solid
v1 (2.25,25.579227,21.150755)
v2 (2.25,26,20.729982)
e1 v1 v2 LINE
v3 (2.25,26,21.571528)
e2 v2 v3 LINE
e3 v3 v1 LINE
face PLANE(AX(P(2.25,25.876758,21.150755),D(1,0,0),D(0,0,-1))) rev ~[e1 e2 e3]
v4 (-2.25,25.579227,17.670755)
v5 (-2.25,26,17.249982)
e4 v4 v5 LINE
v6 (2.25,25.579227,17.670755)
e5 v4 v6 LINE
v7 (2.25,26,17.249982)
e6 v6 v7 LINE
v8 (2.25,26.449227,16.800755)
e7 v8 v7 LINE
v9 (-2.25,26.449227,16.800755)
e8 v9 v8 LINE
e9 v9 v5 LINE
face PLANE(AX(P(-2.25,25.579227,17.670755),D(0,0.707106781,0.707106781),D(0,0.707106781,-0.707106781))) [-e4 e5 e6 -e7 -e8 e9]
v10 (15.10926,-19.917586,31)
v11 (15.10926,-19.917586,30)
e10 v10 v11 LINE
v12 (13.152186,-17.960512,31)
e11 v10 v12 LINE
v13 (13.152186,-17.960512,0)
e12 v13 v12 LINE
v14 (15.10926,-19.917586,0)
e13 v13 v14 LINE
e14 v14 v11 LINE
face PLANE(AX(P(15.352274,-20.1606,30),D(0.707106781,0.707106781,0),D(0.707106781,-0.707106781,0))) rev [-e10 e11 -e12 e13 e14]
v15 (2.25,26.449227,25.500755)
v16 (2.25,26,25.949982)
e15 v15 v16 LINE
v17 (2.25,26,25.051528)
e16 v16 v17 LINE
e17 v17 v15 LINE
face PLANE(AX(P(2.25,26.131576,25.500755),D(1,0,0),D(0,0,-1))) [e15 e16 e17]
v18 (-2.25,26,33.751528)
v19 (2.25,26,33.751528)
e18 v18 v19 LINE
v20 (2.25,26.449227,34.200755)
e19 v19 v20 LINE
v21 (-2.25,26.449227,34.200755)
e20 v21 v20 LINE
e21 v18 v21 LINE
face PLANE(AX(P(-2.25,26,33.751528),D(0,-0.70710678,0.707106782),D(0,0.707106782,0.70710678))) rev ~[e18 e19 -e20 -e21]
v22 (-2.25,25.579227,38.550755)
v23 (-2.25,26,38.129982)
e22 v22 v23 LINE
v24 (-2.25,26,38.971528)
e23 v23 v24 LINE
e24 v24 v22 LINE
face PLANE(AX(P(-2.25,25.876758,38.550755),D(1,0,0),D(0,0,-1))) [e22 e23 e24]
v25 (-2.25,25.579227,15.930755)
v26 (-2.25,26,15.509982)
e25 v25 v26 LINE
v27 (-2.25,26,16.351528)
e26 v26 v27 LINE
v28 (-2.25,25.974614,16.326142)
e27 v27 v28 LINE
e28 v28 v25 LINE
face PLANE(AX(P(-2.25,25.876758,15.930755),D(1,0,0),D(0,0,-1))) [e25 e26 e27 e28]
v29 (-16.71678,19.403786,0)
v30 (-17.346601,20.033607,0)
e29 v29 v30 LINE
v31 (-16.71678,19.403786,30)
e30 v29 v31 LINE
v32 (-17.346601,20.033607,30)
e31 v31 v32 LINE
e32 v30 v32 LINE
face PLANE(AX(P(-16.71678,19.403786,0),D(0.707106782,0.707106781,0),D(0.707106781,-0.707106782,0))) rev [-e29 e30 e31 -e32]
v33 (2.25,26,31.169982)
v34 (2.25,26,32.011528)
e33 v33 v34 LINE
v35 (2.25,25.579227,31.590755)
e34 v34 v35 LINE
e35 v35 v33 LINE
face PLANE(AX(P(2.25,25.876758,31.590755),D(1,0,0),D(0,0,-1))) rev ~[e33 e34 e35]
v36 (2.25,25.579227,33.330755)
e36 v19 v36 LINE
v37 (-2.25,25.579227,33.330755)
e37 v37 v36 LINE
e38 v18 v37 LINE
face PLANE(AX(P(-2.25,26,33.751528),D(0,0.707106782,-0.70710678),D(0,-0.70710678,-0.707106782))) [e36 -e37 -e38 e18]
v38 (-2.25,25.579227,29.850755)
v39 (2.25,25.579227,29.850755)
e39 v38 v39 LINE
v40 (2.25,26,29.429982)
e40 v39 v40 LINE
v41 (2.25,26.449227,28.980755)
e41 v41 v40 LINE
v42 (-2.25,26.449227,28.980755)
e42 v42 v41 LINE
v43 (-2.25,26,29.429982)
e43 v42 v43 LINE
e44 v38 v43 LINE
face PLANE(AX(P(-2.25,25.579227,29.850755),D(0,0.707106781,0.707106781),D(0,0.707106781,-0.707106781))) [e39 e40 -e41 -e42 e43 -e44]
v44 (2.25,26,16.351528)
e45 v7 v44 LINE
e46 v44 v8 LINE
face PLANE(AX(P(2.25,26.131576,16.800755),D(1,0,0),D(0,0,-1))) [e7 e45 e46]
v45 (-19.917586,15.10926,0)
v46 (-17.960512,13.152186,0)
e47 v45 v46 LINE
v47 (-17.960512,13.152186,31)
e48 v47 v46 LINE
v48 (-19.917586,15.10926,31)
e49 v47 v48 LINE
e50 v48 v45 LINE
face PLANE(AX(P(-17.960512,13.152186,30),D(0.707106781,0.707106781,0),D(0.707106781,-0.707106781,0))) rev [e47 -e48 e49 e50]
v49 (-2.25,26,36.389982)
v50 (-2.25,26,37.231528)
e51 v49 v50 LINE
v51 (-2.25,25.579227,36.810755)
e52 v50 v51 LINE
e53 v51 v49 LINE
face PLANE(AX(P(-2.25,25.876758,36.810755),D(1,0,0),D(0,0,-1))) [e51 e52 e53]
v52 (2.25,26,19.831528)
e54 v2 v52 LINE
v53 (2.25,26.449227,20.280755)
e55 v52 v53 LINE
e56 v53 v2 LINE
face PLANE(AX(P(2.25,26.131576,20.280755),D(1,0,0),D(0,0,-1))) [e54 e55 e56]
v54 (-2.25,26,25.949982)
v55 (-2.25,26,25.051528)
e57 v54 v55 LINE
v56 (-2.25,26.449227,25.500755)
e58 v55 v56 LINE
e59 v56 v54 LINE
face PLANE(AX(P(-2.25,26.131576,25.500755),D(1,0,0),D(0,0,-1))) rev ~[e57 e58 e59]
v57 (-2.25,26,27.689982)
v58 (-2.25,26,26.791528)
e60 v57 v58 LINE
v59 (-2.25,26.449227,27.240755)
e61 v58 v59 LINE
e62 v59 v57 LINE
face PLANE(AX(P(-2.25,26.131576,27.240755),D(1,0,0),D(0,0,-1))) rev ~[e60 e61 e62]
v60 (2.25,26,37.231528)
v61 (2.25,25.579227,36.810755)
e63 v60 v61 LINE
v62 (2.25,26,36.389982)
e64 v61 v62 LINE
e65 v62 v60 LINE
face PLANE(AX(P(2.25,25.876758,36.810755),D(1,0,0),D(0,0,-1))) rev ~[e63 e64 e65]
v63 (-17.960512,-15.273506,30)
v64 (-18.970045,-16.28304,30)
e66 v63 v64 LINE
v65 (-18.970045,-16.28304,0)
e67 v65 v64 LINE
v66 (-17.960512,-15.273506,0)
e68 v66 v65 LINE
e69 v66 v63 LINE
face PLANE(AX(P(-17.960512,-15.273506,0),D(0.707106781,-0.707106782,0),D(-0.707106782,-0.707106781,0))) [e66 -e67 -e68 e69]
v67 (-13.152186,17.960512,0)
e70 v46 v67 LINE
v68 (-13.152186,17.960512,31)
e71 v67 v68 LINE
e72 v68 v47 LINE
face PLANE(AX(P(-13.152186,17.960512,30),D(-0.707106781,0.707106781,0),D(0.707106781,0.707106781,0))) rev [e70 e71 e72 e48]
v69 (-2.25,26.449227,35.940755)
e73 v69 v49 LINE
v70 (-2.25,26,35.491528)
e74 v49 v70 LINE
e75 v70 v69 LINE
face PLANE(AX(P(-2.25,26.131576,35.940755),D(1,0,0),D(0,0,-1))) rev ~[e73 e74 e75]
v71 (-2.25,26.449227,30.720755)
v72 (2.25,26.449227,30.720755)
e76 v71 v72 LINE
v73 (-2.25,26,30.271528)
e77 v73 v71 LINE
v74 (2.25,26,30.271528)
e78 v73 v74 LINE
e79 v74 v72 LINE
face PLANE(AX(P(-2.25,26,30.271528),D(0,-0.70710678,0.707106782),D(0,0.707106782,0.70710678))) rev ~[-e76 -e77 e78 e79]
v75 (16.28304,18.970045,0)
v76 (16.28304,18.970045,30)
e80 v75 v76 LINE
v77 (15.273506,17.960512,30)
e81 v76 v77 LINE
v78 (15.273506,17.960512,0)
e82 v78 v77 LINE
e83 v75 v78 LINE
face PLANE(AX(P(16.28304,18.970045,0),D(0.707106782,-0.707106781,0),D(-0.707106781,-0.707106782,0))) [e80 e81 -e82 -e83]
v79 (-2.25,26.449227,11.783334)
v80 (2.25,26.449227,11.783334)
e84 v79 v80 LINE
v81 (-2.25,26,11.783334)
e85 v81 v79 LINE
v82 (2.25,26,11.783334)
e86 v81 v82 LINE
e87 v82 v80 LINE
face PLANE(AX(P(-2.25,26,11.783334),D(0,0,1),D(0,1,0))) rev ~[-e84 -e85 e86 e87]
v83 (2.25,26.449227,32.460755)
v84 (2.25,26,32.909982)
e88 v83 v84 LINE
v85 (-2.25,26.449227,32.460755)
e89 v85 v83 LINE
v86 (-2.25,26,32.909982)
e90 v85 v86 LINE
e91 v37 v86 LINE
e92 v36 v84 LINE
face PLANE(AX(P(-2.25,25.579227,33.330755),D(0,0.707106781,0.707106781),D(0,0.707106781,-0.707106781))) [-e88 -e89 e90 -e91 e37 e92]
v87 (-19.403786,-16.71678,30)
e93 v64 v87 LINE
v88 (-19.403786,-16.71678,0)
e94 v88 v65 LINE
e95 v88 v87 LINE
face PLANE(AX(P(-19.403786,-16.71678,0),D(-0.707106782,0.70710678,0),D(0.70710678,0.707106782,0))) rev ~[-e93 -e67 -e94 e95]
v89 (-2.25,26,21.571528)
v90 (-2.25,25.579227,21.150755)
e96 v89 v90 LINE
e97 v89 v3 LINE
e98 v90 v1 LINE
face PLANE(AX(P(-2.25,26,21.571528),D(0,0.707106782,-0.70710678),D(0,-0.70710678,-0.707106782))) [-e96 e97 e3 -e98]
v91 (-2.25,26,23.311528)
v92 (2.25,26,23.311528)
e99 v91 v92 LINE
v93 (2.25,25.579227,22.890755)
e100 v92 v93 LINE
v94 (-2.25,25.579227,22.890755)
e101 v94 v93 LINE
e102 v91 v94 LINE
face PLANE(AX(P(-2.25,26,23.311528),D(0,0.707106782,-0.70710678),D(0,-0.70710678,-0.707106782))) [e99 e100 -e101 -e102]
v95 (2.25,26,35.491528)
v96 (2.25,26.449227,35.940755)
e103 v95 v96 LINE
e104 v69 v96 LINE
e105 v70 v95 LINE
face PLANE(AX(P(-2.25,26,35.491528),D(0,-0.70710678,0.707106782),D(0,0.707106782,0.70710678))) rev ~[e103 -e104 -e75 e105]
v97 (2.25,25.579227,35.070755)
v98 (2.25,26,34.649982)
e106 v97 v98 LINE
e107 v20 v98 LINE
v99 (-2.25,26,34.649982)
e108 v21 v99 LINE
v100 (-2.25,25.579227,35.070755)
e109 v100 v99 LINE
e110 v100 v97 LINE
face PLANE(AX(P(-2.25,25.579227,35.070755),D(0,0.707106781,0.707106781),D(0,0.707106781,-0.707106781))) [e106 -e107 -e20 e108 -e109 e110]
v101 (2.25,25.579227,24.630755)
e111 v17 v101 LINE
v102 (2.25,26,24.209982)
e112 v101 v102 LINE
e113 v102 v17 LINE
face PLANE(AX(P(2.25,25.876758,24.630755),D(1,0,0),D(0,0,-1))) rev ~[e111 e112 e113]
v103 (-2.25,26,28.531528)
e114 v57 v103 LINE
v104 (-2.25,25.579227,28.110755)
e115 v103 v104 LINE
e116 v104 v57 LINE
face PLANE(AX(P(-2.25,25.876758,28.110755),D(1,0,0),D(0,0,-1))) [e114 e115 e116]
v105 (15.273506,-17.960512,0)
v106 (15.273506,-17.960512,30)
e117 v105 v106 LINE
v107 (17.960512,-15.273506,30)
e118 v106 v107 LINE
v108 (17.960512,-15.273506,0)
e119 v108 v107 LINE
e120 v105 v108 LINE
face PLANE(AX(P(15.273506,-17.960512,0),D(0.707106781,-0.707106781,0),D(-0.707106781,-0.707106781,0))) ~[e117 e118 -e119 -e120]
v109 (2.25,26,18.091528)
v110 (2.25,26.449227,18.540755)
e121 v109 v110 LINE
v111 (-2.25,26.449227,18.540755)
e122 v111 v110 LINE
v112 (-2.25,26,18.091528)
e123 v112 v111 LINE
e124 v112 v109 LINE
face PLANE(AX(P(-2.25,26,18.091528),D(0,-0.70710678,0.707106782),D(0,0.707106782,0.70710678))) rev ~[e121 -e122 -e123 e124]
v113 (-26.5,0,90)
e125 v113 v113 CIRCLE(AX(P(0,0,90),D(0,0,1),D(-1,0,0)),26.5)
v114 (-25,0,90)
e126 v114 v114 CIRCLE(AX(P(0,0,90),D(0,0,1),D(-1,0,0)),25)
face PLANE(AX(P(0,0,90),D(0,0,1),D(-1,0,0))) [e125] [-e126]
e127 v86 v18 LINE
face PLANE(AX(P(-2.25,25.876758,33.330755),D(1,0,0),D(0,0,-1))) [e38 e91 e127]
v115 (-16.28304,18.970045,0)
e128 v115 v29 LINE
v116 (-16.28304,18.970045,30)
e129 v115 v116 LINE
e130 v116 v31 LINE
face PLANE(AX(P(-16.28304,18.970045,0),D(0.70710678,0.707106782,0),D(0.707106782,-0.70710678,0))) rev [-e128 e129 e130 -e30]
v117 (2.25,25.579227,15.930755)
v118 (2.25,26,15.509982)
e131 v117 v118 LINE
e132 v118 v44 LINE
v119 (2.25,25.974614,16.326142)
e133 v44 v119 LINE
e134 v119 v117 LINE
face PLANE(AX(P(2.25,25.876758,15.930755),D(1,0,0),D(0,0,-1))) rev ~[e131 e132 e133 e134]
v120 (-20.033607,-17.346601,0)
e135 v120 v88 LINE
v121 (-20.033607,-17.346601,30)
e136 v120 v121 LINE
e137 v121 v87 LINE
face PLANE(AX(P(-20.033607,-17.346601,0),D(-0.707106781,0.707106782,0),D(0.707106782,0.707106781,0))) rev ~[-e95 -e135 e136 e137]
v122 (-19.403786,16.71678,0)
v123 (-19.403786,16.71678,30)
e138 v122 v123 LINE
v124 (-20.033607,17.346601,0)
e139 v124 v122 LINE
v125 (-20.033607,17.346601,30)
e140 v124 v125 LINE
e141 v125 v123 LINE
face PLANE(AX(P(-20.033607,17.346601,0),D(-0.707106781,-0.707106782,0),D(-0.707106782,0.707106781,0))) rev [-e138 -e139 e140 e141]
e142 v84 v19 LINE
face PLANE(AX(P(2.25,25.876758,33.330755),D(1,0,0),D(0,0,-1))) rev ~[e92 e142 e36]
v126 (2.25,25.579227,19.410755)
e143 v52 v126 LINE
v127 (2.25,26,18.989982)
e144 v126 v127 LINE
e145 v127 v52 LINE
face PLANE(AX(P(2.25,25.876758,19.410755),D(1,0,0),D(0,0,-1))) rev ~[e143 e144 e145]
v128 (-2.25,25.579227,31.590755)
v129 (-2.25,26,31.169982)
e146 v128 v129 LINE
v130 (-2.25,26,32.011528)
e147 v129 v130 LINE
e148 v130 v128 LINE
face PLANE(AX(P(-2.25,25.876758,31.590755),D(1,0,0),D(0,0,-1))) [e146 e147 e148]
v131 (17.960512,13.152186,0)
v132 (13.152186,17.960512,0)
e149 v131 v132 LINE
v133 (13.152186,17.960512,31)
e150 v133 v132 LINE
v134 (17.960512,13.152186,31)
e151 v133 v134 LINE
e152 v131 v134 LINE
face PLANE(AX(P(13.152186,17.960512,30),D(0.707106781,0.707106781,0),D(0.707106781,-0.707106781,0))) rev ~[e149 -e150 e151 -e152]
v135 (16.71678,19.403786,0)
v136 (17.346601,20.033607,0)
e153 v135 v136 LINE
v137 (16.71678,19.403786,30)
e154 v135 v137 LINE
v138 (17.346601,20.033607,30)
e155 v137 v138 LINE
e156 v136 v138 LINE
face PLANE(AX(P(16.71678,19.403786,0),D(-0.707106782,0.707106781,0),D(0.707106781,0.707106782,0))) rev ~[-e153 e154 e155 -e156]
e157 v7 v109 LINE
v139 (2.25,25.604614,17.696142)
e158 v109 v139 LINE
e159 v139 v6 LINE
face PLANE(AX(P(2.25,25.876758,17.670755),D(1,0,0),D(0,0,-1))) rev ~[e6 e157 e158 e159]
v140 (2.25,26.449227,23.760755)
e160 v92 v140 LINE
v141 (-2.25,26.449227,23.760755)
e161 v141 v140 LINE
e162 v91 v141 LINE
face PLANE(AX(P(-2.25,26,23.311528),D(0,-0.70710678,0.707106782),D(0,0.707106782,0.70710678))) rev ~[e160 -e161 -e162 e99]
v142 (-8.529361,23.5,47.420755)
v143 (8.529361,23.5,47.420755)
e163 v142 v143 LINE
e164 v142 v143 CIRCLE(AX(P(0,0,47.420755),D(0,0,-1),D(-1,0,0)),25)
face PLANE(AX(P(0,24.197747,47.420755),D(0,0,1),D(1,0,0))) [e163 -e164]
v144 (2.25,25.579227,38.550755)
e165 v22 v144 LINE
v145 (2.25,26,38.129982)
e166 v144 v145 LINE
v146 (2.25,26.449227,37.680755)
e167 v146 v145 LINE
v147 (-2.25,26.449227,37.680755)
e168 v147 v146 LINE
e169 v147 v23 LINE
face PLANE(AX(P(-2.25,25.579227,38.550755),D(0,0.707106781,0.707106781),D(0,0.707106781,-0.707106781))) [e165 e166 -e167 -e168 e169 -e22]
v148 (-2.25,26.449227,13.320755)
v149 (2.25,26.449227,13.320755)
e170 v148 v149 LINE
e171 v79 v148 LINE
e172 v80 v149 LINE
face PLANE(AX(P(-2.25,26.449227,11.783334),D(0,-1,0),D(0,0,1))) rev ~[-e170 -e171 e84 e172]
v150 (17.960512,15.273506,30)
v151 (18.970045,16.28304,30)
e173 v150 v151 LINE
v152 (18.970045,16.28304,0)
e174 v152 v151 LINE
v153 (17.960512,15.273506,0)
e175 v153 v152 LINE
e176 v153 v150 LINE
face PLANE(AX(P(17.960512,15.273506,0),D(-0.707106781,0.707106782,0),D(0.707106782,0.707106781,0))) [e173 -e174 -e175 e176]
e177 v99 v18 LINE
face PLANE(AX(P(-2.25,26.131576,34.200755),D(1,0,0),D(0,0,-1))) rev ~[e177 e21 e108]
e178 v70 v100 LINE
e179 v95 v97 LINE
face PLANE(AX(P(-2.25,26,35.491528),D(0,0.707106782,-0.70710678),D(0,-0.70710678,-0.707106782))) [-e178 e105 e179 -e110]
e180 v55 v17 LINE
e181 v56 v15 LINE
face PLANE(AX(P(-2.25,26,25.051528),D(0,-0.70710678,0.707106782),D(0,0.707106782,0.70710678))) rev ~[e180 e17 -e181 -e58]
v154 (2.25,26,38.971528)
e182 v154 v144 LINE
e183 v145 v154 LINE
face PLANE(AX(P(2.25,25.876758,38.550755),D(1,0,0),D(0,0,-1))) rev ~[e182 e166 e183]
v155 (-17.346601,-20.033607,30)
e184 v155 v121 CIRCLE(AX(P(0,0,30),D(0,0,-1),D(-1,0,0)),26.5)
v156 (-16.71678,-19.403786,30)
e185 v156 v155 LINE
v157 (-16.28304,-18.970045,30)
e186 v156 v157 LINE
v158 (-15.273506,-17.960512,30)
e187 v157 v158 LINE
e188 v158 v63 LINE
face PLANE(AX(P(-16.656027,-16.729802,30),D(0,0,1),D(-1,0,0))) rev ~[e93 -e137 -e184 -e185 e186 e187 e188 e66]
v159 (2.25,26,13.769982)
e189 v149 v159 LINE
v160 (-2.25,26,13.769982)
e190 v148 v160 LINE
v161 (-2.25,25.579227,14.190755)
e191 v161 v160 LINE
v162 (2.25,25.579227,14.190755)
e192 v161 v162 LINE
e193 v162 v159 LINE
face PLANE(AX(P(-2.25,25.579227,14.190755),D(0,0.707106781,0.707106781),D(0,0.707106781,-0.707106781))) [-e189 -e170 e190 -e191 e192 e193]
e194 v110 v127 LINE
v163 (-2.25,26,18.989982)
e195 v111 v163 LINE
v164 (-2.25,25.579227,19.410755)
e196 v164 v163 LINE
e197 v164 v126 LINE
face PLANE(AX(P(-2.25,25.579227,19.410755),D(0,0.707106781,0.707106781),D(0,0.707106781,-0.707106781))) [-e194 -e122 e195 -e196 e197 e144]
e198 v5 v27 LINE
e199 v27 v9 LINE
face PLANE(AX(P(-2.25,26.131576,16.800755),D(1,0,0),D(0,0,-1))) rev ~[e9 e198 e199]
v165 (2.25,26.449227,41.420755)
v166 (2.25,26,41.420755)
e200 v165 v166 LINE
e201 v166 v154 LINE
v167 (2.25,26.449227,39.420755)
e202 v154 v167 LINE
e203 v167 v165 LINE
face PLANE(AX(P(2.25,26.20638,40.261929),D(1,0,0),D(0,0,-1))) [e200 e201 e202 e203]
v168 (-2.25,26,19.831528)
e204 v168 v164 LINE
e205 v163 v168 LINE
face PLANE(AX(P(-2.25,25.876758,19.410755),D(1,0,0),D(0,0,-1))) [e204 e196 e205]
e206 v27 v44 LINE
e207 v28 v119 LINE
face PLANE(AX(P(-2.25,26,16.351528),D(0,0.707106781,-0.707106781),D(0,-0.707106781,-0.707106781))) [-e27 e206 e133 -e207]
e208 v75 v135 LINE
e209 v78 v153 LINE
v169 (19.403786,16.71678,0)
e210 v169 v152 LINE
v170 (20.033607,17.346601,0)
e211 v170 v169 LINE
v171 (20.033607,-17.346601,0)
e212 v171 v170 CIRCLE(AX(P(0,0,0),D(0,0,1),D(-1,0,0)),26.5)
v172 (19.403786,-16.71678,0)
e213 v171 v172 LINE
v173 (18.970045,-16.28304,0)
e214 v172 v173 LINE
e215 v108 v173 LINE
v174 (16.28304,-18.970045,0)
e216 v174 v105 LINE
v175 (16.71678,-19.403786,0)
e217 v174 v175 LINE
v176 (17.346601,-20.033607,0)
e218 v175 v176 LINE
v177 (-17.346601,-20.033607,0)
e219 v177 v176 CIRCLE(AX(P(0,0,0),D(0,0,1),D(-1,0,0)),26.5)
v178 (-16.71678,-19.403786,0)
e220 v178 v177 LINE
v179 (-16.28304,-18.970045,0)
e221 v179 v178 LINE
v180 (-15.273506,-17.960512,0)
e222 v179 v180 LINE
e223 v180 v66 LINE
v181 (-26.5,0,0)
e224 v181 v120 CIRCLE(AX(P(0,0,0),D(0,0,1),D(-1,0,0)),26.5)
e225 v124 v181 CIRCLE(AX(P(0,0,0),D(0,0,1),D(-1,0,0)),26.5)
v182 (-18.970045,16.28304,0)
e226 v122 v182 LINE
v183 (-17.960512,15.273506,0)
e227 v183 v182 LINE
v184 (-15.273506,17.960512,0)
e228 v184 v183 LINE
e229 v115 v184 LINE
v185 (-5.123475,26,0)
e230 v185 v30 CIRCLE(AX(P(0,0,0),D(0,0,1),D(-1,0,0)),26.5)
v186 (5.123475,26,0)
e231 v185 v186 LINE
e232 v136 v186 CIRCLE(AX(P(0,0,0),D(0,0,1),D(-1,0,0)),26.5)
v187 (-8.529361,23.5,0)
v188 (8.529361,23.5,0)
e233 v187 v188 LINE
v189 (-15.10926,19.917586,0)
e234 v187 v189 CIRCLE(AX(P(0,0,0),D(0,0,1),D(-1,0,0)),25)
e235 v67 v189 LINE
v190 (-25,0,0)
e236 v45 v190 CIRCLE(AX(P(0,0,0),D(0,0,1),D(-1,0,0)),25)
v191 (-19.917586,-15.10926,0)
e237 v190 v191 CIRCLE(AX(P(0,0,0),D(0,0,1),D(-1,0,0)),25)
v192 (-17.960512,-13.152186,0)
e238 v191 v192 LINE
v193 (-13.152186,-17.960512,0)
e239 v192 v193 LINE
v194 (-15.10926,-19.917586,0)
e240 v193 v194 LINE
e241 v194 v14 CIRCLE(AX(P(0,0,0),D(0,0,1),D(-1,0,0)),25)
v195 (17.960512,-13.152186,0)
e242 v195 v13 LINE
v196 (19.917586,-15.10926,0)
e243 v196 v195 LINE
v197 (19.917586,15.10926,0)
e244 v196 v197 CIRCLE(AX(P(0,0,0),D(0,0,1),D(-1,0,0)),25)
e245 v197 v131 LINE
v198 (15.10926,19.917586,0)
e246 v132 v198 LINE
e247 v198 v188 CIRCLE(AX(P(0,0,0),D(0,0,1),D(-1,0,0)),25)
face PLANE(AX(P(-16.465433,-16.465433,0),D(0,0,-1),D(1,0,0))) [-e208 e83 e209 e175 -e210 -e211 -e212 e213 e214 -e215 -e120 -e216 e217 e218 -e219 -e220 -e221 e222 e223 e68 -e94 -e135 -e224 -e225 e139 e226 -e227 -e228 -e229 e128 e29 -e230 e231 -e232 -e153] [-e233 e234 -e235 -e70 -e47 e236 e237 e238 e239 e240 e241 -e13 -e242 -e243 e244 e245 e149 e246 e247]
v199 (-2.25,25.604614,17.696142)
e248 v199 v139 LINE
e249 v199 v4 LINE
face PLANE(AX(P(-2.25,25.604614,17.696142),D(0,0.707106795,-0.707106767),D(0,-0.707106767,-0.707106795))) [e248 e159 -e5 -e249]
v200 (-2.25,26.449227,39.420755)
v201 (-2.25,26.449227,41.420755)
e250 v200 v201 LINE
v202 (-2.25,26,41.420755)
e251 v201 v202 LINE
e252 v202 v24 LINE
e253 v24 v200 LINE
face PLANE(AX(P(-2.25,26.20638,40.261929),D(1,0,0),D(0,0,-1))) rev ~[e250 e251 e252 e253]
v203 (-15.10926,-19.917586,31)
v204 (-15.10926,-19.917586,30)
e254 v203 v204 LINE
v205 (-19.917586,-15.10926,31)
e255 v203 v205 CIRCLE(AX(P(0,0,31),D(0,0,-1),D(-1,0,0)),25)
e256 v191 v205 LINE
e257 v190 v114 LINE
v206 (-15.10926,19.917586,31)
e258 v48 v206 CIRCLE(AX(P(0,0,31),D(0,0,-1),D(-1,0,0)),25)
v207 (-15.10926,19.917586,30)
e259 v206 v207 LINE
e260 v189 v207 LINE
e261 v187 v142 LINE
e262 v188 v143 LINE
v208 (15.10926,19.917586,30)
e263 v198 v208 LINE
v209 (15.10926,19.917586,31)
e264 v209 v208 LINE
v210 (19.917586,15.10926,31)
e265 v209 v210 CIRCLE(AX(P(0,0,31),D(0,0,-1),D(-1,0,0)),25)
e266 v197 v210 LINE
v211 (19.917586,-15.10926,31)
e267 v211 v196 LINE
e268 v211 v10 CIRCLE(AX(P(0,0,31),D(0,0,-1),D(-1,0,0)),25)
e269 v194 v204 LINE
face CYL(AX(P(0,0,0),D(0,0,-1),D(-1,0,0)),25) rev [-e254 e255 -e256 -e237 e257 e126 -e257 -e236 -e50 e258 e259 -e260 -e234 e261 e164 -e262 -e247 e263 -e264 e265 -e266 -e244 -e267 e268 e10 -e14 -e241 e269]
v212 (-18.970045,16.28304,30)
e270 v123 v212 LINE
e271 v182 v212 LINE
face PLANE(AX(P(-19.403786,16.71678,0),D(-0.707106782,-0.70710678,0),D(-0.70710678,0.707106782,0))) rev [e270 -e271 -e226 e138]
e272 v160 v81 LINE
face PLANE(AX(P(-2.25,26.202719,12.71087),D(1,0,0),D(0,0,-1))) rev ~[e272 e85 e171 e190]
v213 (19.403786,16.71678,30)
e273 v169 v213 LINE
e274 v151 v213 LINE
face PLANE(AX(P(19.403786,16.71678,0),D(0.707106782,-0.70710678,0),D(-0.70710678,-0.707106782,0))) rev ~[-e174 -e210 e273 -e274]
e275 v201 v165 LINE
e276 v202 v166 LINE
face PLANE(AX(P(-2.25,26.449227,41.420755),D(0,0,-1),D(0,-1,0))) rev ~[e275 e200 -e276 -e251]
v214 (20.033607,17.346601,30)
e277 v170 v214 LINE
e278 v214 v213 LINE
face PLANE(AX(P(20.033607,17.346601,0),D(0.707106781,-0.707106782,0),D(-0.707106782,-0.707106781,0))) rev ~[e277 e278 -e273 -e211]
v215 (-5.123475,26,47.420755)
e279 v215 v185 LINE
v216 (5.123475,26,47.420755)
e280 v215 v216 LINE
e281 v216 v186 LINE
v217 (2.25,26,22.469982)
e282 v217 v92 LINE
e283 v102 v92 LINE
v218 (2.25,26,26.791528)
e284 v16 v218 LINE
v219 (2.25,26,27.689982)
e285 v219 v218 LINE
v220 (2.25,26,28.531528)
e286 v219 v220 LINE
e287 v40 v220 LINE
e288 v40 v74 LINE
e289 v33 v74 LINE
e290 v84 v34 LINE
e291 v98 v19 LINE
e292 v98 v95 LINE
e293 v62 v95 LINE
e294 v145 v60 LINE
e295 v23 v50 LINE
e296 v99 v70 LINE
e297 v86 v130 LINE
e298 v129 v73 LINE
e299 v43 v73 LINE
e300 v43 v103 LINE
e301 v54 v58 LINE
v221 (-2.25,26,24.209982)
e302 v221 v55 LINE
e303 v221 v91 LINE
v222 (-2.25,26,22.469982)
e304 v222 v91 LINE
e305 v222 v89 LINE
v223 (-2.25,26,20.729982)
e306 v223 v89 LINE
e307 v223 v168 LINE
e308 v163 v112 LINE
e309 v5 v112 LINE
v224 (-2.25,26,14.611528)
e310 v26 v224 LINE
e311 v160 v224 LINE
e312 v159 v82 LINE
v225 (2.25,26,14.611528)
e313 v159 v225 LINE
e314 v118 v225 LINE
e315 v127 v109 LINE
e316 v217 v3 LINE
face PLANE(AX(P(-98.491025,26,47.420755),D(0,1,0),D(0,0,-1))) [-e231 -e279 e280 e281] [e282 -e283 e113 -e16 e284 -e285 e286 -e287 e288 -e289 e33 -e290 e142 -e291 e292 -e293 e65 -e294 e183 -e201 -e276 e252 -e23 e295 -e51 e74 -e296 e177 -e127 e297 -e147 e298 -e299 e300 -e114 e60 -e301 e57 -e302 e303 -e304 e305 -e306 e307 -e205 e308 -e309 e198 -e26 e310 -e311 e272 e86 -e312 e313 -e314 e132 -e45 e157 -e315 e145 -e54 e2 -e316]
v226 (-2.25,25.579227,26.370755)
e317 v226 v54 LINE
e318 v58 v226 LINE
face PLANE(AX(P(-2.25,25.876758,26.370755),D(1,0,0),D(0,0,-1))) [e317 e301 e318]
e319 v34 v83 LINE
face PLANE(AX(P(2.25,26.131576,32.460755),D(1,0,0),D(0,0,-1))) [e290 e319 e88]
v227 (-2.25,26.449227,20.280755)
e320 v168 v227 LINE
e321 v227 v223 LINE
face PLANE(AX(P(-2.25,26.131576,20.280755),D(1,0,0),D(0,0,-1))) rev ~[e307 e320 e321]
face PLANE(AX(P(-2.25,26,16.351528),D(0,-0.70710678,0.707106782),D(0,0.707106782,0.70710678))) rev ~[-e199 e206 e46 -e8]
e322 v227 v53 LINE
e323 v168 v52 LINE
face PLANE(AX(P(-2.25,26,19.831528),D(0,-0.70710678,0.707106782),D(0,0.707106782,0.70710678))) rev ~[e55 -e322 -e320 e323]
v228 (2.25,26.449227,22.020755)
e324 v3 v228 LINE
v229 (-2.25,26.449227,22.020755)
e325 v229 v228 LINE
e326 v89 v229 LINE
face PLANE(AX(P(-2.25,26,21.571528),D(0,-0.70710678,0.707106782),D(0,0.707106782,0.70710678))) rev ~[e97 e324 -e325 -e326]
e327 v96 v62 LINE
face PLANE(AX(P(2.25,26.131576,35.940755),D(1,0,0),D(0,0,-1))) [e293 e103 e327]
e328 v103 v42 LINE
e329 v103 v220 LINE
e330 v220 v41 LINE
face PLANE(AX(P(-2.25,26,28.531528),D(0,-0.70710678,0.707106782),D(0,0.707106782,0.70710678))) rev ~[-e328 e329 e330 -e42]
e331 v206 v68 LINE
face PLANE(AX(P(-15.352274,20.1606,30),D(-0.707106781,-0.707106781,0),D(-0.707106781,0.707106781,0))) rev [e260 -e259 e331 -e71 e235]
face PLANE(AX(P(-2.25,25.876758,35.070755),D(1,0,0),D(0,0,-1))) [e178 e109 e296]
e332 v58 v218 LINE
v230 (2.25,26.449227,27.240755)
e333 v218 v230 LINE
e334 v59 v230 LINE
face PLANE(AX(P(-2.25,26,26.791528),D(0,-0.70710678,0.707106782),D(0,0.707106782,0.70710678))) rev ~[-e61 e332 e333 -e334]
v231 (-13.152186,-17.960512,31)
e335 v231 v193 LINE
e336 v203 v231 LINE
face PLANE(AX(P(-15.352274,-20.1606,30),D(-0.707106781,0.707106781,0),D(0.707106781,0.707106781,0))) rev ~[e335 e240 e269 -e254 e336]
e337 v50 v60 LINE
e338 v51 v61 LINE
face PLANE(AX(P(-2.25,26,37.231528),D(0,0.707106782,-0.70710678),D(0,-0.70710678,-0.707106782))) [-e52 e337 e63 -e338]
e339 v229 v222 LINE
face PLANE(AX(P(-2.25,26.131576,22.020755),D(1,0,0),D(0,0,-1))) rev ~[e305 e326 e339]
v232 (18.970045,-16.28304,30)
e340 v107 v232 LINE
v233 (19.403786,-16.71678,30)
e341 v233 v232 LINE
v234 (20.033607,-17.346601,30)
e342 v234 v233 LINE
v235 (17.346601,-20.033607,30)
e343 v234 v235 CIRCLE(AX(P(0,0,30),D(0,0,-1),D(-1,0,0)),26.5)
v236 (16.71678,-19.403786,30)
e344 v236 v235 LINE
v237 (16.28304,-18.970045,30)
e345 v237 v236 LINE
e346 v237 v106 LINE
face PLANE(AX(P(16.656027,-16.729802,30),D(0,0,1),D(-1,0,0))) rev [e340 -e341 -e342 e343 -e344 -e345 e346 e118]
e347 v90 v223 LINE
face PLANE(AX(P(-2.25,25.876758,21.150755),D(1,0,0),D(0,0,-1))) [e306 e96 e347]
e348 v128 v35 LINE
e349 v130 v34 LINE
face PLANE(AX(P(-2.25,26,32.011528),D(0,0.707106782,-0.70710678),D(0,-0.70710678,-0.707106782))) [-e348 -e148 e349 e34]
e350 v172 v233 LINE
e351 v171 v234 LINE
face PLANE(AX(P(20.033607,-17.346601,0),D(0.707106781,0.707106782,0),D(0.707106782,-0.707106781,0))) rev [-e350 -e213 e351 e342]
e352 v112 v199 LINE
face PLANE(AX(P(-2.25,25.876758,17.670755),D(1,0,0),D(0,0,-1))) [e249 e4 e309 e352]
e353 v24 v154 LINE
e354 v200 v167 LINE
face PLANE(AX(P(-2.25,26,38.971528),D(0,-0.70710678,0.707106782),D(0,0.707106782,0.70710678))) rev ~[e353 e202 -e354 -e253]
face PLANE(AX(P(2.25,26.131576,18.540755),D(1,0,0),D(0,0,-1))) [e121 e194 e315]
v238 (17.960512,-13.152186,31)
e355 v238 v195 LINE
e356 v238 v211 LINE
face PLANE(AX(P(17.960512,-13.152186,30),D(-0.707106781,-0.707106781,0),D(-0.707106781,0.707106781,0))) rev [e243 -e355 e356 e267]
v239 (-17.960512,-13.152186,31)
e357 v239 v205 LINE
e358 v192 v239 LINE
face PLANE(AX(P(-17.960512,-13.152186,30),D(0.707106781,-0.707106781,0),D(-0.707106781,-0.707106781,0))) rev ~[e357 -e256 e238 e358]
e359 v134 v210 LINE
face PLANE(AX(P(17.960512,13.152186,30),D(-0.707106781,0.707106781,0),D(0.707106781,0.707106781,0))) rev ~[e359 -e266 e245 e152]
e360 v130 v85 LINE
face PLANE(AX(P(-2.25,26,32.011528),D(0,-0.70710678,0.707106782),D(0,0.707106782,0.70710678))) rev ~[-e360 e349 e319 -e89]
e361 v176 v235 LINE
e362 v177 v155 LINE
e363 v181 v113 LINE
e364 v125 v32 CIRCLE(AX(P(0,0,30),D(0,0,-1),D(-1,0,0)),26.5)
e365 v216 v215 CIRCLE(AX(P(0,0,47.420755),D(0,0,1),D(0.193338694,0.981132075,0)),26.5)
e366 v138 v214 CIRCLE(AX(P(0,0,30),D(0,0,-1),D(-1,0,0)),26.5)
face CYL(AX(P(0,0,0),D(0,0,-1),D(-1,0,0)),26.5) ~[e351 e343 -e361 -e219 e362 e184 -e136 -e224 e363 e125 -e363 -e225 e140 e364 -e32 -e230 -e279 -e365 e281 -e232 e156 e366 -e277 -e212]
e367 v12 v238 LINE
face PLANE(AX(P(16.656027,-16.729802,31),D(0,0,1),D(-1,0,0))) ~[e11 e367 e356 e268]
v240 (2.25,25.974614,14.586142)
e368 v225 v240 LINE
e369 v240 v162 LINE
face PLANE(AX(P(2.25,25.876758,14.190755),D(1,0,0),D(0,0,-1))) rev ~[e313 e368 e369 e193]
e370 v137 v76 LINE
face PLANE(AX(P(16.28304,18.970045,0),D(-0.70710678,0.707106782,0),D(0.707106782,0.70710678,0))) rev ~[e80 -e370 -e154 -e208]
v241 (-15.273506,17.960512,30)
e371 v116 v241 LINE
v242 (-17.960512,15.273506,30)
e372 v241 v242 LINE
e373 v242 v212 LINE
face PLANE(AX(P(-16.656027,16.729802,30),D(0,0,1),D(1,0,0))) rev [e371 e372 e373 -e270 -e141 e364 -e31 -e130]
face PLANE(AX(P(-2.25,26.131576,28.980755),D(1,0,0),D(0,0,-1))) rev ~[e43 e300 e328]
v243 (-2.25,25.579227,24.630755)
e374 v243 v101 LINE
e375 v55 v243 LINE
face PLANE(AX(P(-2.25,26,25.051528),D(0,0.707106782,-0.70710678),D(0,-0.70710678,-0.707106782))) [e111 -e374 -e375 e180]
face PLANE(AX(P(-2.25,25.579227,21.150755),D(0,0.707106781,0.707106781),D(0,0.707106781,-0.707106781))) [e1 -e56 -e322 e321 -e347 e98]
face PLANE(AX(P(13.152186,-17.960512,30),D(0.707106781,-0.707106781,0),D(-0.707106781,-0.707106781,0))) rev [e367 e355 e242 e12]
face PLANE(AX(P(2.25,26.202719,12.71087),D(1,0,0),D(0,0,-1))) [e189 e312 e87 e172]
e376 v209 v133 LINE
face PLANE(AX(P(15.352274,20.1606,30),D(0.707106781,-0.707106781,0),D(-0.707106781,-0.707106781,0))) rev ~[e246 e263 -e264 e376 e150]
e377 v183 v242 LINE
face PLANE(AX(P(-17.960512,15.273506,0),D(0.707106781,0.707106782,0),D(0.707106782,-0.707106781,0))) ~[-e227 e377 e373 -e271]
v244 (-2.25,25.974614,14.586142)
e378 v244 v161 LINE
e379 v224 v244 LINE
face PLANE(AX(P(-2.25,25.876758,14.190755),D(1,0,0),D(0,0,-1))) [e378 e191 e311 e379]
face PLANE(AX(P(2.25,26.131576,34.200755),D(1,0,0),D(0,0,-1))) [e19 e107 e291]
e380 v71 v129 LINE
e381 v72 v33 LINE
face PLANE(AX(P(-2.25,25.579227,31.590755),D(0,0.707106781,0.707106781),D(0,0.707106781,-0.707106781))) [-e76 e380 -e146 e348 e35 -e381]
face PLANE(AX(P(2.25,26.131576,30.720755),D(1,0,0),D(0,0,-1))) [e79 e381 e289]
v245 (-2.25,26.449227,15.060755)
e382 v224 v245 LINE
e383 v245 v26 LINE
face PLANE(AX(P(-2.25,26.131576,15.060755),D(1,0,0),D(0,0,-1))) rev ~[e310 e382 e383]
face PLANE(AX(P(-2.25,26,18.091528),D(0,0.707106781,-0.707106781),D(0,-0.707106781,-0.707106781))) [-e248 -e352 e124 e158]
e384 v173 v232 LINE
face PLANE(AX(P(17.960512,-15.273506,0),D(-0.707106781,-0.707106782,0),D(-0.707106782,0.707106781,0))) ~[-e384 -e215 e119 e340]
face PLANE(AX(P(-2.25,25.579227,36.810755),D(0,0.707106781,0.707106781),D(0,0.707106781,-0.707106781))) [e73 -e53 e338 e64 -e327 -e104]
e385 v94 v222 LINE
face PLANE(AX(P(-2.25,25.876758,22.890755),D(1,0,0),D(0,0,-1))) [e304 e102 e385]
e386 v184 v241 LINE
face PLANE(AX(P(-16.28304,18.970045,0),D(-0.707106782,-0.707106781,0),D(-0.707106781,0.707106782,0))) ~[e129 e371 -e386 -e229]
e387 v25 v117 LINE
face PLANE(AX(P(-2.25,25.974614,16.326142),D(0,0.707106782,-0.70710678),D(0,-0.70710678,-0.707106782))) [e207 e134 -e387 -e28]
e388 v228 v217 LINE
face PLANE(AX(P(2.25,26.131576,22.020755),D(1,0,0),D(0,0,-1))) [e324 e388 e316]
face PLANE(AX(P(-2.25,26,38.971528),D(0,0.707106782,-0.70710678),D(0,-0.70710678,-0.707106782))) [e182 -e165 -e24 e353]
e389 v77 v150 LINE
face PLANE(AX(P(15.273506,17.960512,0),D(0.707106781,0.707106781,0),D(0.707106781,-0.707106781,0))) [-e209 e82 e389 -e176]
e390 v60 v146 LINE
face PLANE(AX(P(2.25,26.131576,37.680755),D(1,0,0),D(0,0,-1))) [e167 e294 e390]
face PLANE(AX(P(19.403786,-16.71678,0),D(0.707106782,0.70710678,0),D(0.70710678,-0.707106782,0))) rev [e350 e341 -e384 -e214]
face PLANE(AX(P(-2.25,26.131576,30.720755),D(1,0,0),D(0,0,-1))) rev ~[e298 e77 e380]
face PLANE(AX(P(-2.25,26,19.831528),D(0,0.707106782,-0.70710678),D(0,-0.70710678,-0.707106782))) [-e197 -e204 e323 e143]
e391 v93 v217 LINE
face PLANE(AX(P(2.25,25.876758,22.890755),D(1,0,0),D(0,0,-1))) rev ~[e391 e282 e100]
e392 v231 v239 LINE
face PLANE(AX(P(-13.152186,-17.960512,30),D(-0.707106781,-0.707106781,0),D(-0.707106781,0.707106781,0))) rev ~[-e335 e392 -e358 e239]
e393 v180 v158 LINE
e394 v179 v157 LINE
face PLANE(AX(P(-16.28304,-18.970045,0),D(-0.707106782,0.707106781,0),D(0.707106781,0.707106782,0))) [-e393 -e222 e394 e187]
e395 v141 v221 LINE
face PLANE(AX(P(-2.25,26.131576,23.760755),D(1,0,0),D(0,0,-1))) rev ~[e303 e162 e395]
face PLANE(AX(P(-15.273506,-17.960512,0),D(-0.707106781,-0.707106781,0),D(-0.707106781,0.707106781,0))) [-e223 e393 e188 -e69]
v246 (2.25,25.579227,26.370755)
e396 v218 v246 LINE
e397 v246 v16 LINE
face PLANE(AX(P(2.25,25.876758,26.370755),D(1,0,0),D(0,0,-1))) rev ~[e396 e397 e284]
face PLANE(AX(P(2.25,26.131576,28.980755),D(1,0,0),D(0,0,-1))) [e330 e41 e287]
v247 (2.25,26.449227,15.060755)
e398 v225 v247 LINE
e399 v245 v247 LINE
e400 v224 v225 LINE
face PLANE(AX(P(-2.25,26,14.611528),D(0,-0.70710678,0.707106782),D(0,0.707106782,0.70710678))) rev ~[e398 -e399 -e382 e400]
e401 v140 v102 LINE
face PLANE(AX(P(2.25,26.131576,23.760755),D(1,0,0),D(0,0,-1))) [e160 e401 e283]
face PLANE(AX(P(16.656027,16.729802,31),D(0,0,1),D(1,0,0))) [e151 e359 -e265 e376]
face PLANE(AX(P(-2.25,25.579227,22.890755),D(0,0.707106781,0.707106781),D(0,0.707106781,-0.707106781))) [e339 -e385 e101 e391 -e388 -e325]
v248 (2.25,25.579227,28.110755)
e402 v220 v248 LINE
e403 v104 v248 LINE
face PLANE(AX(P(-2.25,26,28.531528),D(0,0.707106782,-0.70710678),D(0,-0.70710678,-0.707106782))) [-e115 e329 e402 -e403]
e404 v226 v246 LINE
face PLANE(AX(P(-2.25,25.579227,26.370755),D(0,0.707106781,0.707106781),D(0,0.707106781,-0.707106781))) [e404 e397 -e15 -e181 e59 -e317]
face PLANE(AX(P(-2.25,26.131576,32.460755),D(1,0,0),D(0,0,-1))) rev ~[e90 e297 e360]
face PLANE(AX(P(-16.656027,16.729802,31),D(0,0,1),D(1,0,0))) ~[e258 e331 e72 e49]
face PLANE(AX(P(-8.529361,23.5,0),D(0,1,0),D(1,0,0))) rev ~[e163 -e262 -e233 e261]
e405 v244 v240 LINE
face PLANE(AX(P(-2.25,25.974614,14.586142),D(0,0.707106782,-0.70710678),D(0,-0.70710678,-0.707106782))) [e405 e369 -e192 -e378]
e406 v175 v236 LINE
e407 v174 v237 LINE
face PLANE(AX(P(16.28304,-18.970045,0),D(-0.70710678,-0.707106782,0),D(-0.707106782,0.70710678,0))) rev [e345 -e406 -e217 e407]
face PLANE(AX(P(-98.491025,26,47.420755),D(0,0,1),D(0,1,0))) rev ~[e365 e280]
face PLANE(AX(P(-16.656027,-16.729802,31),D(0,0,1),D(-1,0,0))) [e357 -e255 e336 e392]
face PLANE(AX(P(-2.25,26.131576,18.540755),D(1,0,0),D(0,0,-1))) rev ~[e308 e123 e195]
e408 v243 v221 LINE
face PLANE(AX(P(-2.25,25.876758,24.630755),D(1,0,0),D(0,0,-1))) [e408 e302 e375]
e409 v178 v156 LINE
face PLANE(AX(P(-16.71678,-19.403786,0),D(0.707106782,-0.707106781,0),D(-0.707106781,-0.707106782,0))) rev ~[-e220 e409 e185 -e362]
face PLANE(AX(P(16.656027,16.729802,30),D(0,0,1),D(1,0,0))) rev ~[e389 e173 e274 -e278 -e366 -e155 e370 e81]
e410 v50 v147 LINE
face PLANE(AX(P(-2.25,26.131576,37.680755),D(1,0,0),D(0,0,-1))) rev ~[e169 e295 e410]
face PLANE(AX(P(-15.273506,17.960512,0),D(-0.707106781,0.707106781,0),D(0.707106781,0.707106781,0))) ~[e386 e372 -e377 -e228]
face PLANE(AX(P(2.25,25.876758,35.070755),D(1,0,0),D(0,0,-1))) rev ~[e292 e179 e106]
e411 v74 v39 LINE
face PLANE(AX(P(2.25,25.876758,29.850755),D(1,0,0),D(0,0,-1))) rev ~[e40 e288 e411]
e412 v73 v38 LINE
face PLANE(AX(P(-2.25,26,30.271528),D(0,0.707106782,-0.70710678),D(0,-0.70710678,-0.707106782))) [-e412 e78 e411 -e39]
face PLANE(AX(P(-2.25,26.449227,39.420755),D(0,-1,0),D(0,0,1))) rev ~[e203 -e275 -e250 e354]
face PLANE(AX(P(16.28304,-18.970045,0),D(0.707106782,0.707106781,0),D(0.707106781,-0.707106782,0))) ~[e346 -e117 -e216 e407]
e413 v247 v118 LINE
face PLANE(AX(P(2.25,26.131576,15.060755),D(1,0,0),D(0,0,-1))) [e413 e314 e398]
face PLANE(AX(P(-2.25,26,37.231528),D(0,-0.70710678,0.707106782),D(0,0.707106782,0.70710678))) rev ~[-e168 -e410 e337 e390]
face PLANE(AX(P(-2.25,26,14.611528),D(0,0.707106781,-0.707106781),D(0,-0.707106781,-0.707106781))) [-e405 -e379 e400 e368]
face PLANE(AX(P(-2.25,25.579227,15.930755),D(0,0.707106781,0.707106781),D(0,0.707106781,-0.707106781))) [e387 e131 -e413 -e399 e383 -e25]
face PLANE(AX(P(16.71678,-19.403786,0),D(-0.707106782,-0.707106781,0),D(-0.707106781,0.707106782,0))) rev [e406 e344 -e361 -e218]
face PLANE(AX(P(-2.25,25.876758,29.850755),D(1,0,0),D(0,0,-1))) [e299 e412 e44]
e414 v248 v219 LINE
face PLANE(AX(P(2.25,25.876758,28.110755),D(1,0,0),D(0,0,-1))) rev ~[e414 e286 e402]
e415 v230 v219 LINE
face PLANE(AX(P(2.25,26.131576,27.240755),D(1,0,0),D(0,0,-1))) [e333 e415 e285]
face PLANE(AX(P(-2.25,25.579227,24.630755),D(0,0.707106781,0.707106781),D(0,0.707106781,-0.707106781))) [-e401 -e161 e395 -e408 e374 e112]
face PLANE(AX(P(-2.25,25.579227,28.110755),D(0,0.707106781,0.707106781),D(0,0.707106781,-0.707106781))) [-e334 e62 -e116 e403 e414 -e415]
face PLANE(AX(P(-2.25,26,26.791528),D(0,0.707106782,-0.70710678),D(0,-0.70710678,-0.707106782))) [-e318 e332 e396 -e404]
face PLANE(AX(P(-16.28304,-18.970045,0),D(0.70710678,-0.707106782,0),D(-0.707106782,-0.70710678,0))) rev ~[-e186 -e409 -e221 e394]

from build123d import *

# Parameters (mm, degrees)
SKIZZE1_R                            = 26.5
SKIZZE1_R_2                          = 25
AUFSATZ_LINEAR_AUSTRAGEN1_DEPTH      = 90
SCHNITT_LINEAR_AUSTRAGEN1_DEPTH      = 98.491025228
SCHNITT_LINEAR_AUSTRAGEN1_DEPTH_BACK = 98.491025228
SKIZZE2_W                            = 47.420755097
SKIZZE2_H                            = 0.5
AUFSATZ_LINEAR_AUSTRAGEN2_DEPTH      = 47.420755097
AUFSATZ_LINEAR_AUSTRAGEN3_DEPTH      = 2.25
AUFSATZ_LINEAR_AUSTRAGEN3_DEPTH_BACK = 2.25
SCHNITT_LINEAR_AUSTRAGEN2_DEPTH      = 30
AUFSATZ_LINEAR_AUSTRAGEN4_DEPTH      = 30
AUFSATZ_LINEAR_AUSTRAGEN5_DEPTH      = 1
SPIEGELN2_COPY_1_DEPTH               = 30
SPIEGELN2_COPY_2_DEPTH               = 30
SPIEGELN2_COPY_3_DEPTH               = 1
SCHNITT_LINEAR_AUSTRAGEN3_DEPTH      = 2.25
SCHNITT_LINEAR_AUSTRAGEN3_DEPTH_BACK = 2.25


with BuildPart() as part:
    # Skizze1 → Aufsatz-Linear austragen1 (new body)
    with BuildSketch(Plane.XY):
        with Locations(Location((0, 0, 0), (0, 0, 180))):
            Circle(SKIZZE1_R)
        with Locations(Location((0, 0, 0), (0, 0, 180))):
            Circle(SKIZZE1_R_2, mode=Mode.SUBTRACT)
    extrude(amount=AUFSATZ_LINEAR_AUSTRAGEN1_DEPTH)

    # Skizze2 → Schnitt-Linear austragen1 (cut, two sides: drawn at the far end of the back side and taken through both)
    with BuildSketch(Plane(origin=(0, 0, 0), x_dir=(0, 0, -1), z_dir=(1, 0, 0)).offset(-SCHNITT_LINEAR_AUSTRAGEN1_DEPTH_BACK)):
        with Locations((-23.710377549, 26.25)):
            Rectangle(SKIZZE2_W, SKIZZE2_H)
    extrude(amount=SCHNITT_LINEAR_AUSTRAGEN1_DEPTH + SCHNITT_LINEAR_AUSTRAGEN1_DEPTH_BACK, mode=Mode.SUBTRACT)

    # Skizze4 → Aufsatz-Linear austragen2 (add)
    with BuildSketch(Plane(origin=(0, 0, 0), x_dir=(-1, 0, 0), z_dir=(0, 0, -1))):
        Polygon((8.529361055, 23.5), (-8.529361055, 23.5), (-5.360314204, 25.204344352), (5.360314204, 25.204344352), align=None)
    extrude(amount=-AUFSATZ_LINEAR_AUSTRAGEN2_DEPTH)

    # Skizze5 → Aufsatz-Linear austragen3 (add, two sides: drawn at the far end of the back side and taken through both)
    with BuildSketch(Plane(origin=(0, 0, 0), x_dir=(0, 0, -1), z_dir=(1, 0, 0)).offset(-AUFSATZ_LINEAR_AUSTRAGEN3_DEPTH_BACK)):
        Polygon((-12.029982204, 26), (-11.783333845, 26), (-11.783333845, 26.449227107), (-13.320755097, 26.449227107), (-13.769982204, 26), (-12.871527991, 26), align=None)
        Polygon((-41.420755097, 26), (-38.971527991, 26), (-39.420755097, 26.449227107), (-41.420755097, 26.449227107), align=None)
        Polygon((-38.129982204, 26), (-37.231527991, 26), (-37.680755097, 26.449227107), align=None)
        Polygon((-36.389982204, 26), (-35.491527991, 26), (-35.940755097, 26.449227107), align=None)
        Polygon((-34.649982204, 26), (-33.751527991, 26), (-34.200755097, 26.449227107), align=None)
        Polygon((-32.909982204, 26), (-32.011527991, 26), (-32.460755097, 26.449227107), align=None)
        Polygon((-31.169982204, 26), (-30.271527991, 26), (-30.720755097, 26.449227107), align=None)
        Polygon((-29.429982204, 26), (-28.531527991, 26), (-28.980755097, 26.449227107), align=None)
        Polygon((-27.689982204, 26), (-26.791527991, 26), (-27.240755097, 26.449227107), align=None)
        Polygon((-25.949982204, 26), (-25.051527991, 26), (-25.500755097, 26.449227107), align=None)
        Polygon((-24.209982204, 26), (-23.311527991, 26), (-23.760755097, 26.449227107), align=None)
        Polygon((-22.469982204, 26), (-21.571527991, 26), (-22.020755097, 26.449227107), align=None)
        Polygon((-20.729982204, 26), (-19.831527991, 26), (-20.280755097, 26.449227107), align=None)
        Polygon((-18.989982204, 26), (-18.091527991, 26), (-18.540755097, 26.449227107), align=None)
        Polygon((-17.249982204, 26), (-16.351527991, 26), (-16.800755097, 26.449227107), align=None)
        Polygon((-15.509982204, 26), (-14.611527991, 26), (-15.060755097, 26.449227107), align=None)
    extrude(amount=AUFSATZ_LINEAR_AUSTRAGEN3_DEPTH + AUFSATZ_LINEAR_AUSTRAGEN3_DEPTH_BACK)

    # Skizze6 → Schnitt-Linear austragen2 (cut)
    with BuildSketch(Plane(origin=(0, 0, 0), x_dir=(-1, 0, 0), z_dir=(0, 0, -1))):
        with BuildLine():
            Line((-16.716780274, 19.403786042), (-17.346601449, 20.033607218))
            ThreePointArc((-17.346601449, 20.033607218), (-18.738329701, 18.738329701), (-20.033607218, 17.346601449))
            Line((-20.033607218, 17.346601449), (-19.403786042, 16.716780274))
            Line((-19.403786042, 16.716780274), (-18.97004537, 16.283039601))
            ThreePointArc((-18.97004537, 16.283039601), (-17.67766953, 17.67766953), (-16.283039601, 18.97004537))
            Line((-16.283039601, 18.97004537), (-16.716780274, 19.403786042))
        make_face()
        with BuildLine():
            Line((-17.346601449, 20.033607218), (-17.394826817, 20.081832586))
            Line((-17.394826817, 20.081832586), (-18.854928678, 18.854928678))
            Line((-18.854928678, 18.854928678), (-20.081832586, 17.394826817))
            Line((-20.081832586, 17.394826817), (-20.033607218, 17.346601449))
            ThreePointArc((-20.033607218, 17.346601449), (-18.738329701, 18.738329701), (-17.346601449, 20.033607218))
        make_face()
        with BuildLine():
            Line((-15.273506474, 17.960512242), (-16.283039601, 18.97004537))
            ThreePointArc((-16.283039601, 18.97004537), (-17.67766953, 17.67766953), (-18.97004537, 16.283039601))
            Line((-18.97004537, 16.283039601), (-17.960512242, 15.273506474))
            Line((-17.960512242, 15.273506474), (-15.273506474, 17.960512242))
        make_face()
    schnitt_linear_austragen2 = extrude(amount=-SCHNITT_LINEAR_AUSTRAGEN2_DEPTH, mode=Mode.SUBTRACT)

    # Skizze6<3> → Aufsatz-Linear austragen4 (add)
    with BuildSketch(Plane(origin=(0, 0, 0), x_dir=(-1, 0, 0), z_dir=(0, 0, -1))):
        with BuildLine():
            ThreePointArc((-15.109260367, 19.917586479), (-15.703298471, 19.452671208), (-16.283039601, 18.97004537))
            Line((-16.283039601, 18.97004537), (-15.273506474, 17.960512242))
            Line((-15.273506474, 17.960512242), (-17.960512242, 15.273506474))
            Line((-17.960512242, 15.273506474), (-18.97004537, 16.283039601))
            ThreePointArc((-18.97004537, 16.283039601), (-19.452671208, 15.703298471), (-19.917586479, 15.109260367))
            Line((-19.917586479, 15.109260367), (-17.960512242, 13.15218613))
            Line((-17.960512242, 13.15218613), (-13.15218613, 17.960512242))
            Line((-13.15218613, 17.960512242), (-15.109260367, 19.917586479))
        make_face()
    aufsatz_linear_austragen4 = extrude(amount=-AUFSATZ_LINEAR_AUSTRAGEN4_DEPTH)

    # Skizze7 → Aufsatz-Linear austragen5 (add)
    with BuildSketch(Plane.XY.offset(30)):
        Polygon((13.15218613, 17.960512242), (17.960512242, 13.15218613), (19.917586479, 15.109260367), (18.25472482, 18.000193095), (15.352274142, 20.160600254), align=None)
    aufsatz_linear_austragen5 = extrude(amount=AUFSATZ_LINEAR_AUSTRAGEN5_DEPTH)

    # Spiegeln1: Schnitt-Linear austragen2, Aufsatz-Linear austragen4, Aufsatz-Linear austragen5 across plane
    add(schnitt_linear_austragen2.mirror(Plane(origin=(0, 0, 0), x_dir=(0, 0, 1), z_dir=(1, 0, 0))), mode=Mode.SUBTRACT)
    add(aufsatz_linear_austragen4.mirror(Plane(origin=(0, 0, 0), x_dir=(0, 0, 1), z_dir=(1, 0, 0))))
    add(aufsatz_linear_austragen5.mirror(Plane(origin=(0, 0, 0), x_dir=(0, 0, 1), z_dir=(1, 0, 0))))

    # Spiegeln2: Schnitt-Linear austragen2, Aufsatz-Linear austragen4, Aufsatz-Linear austragen5 across plane
    add(schnitt_linear_austragen2.mirror(Plane.ZX), mode=Mode.SUBTRACT)
    add(aufsatz_linear_austragen4.mirror(Plane.ZX))
    add(aufsatz_linear_austragen5.mirror(Plane.ZX))

    # Spiegeln2 copy 1 sketch → Spiegeln2 copy 1 (cut)
    with BuildSketch(Plane(origin=(0, 0, 0), x_dir=(1, 0, 0), z_dir=(0, 0, -1))):
        with BuildLine():
            Line((-16.716780274, 19.403786042), (-17.346601449, 20.033607218))
            ThreePointArc((-17.346601449, 20.033607218), (-18.738329701, 18.738329701), (-20.033607218, 17.346601449))
            Line((-20.033607218, 17.346601449), (-19.403786042, 16.716780274))
            Line((-19.403786042, 16.716780274), (-18.97004537, 16.283039601))
            ThreePointArc((-18.97004537, 16.283039601), (-17.67766953, 17.67766953), (-16.283039601, 18.97004537))
            Line((-16.283039601, 18.97004537), (-16.716780274, 19.403786042))
        make_face()
        with BuildLine():
            Line((-17.346601449, 20.033607218), (-17.394826817, 20.081832586))
            Line((-17.394826817, 20.081832586), (-18.854928678, 18.854928678))
            Line((-18.854928678, 18.854928678), (-20.081832586, 17.394826817))
            Line((-20.081832586, 17.394826817), (-20.033607218, 17.346601449))
            ThreePointArc((-20.033607218, 17.346601449), (-18.738329701, 18.738329701), (-17.346601449, 20.033607218))
        make_face()
        with BuildLine():
            Line((-15.273506474, 17.960512242), (-16.283039601, 18.97004537))
            ThreePointArc((-16.283039601, 18.97004537), (-17.67766953, 17.67766953), (-18.97004537, 16.283039601))
            Line((-18.97004537, 16.283039601), (-17.960512242, 15.273506474))
            Line((-17.960512242, 15.273506474), (-15.273506474, 17.960512242))
        make_face()
    extrude(amount=-SPIEGELN2_COPY_1_DEPTH, mode=Mode.SUBTRACT)

    # Spiegeln2 copy 2 sketch → Spiegeln2 copy 2 (add)
    with BuildSketch(Plane(origin=(0, 0, 0), x_dir=(1, 0, 0), z_dir=(0, 0, -1))):
        with BuildLine():
            ThreePointArc((-15.109260367, 19.917586479), (-15.703298471, 19.452671208), (-16.283039601, 18.97004537))
            Line((-16.283039601, 18.97004537), (-15.273506474, 17.960512242))
            Line((-15.273506474, 17.960512242), (-17.960512242, 15.273506474))
            Line((-17.960512242, 15.273506474), (-18.97004537, 16.283039601))
            ThreePointArc((-18.97004537, 16.283039601), (-19.452671208, 15.703298471), (-19.917586479, 15.109260367))
            Line((-19.917586479, 15.109260367), (-17.960512242, 13.15218613))
            Line((-17.960512242, 13.15218613), (-13.15218613, 17.960512242))
            Line((-13.15218613, 17.960512242), (-15.109260367, 19.917586479))
        make_face()
    extrude(amount=-SPIEGELN2_COPY_2_DEPTH)

    # Spiegeln2 copy 3 sketch → Spiegeln2 copy 3 (add)
    with BuildSketch(Plane(origin=(0, 0, 30), x_dir=(-1, 0, 0), z_dir=(0, 0, 1))):
        Polygon((13.15218613, 17.960512242), (17.960512242, 13.15218613), (19.917586479, 15.109260367), (18.25472482, 18.000193095), (15.352274142, 20.160600254), align=None)
    extrude(amount=SPIEGELN2_COPY_3_DEPTH)

    # Skizze5<3> → Schnitt-Linear austragen3 (cut, two sides: drawn at the far end of the back side and taken through both)
    with BuildSketch(Plane(origin=(0, 0, 0), x_dir=(0, 0, -1), z_dir=(1, 0, 0)).offset(-SCHNITT_LINEAR_AUSTRAGEN3_DEPTH_BACK)):
        Polygon((-38.550755097, 25.579227107), (-38.129982204, 26), (-38.971527991, 26), align=None)
        Polygon((-36.810755097, 25.579227107), (-36.389982204, 26), (-37.231527991, 26), align=None)
        Polygon((-35.070755097, 25.579227107), (-34.649982204, 26), (-35.491527991, 26), align=None)
        Polygon((-33.330755097, 25.579227107), (-32.909982204, 26), (-33.751527991, 26), align=None)
        Polygon((-31.590755097, 25.579227107), (-31.169982204, 26), (-32.011527991, 26), align=None)
        Polygon((-29.850755097, 25.579227107), (-29.429982204, 26), (-30.271527991, 26), align=None)
        Polygon((-28.110755097, 25.579227107), (-27.689982204, 26), (-28.531527991, 26), align=None)
        Polygon((-26.370755097, 25.579227107), (-25.949982204, 26), (-26.791527991, 26), align=None)
        Polygon((-24.630755097, 25.579227107), (-24.209982204, 26), (-25.051527991, 26), align=None)
        Polygon((-22.890755097, 25.579227107), (-22.469982204, 26), (-23.311527991, 26), align=None)
        Polygon((-21.150755097, 25.579227107), (-20.729982204, 26), (-21.571527991, 26), align=None)
        Polygon((-19.385368651, 25.604613553), (-18.989982204, 26), (-19.831527991, 26), (-19.410755097, 25.579227107), align=None)
        Polygon((-17.645368651, 25.604613553), (-17.249982204, 26), (-18.091527991, 26), (-17.696141544, 25.604613553), (-17.670755097, 25.579227107), align=None)
        Polygon((-15.535368651, 25.974613553), (-15.509982204, 26), (-16.351527991, 26), (-16.326141544, 25.974613553), (-15.930755097, 25.579227107), align=None)
        Polygon((-13.795368651, 25.974613553), (-13.769982204, 26), (-14.611527991, 26), (-14.586141544, 25.974613553), (-14.190755097, 25.579227107), align=None)
    extrude(amount=SCHNITT_LINEAR_AUSTRAGEN3_DEPTH + SCHNITT_LINEAR_AUSTRAGEN3_DEPTH_BACK, mode=Mode.SUBTRACT)


solid = part.part
